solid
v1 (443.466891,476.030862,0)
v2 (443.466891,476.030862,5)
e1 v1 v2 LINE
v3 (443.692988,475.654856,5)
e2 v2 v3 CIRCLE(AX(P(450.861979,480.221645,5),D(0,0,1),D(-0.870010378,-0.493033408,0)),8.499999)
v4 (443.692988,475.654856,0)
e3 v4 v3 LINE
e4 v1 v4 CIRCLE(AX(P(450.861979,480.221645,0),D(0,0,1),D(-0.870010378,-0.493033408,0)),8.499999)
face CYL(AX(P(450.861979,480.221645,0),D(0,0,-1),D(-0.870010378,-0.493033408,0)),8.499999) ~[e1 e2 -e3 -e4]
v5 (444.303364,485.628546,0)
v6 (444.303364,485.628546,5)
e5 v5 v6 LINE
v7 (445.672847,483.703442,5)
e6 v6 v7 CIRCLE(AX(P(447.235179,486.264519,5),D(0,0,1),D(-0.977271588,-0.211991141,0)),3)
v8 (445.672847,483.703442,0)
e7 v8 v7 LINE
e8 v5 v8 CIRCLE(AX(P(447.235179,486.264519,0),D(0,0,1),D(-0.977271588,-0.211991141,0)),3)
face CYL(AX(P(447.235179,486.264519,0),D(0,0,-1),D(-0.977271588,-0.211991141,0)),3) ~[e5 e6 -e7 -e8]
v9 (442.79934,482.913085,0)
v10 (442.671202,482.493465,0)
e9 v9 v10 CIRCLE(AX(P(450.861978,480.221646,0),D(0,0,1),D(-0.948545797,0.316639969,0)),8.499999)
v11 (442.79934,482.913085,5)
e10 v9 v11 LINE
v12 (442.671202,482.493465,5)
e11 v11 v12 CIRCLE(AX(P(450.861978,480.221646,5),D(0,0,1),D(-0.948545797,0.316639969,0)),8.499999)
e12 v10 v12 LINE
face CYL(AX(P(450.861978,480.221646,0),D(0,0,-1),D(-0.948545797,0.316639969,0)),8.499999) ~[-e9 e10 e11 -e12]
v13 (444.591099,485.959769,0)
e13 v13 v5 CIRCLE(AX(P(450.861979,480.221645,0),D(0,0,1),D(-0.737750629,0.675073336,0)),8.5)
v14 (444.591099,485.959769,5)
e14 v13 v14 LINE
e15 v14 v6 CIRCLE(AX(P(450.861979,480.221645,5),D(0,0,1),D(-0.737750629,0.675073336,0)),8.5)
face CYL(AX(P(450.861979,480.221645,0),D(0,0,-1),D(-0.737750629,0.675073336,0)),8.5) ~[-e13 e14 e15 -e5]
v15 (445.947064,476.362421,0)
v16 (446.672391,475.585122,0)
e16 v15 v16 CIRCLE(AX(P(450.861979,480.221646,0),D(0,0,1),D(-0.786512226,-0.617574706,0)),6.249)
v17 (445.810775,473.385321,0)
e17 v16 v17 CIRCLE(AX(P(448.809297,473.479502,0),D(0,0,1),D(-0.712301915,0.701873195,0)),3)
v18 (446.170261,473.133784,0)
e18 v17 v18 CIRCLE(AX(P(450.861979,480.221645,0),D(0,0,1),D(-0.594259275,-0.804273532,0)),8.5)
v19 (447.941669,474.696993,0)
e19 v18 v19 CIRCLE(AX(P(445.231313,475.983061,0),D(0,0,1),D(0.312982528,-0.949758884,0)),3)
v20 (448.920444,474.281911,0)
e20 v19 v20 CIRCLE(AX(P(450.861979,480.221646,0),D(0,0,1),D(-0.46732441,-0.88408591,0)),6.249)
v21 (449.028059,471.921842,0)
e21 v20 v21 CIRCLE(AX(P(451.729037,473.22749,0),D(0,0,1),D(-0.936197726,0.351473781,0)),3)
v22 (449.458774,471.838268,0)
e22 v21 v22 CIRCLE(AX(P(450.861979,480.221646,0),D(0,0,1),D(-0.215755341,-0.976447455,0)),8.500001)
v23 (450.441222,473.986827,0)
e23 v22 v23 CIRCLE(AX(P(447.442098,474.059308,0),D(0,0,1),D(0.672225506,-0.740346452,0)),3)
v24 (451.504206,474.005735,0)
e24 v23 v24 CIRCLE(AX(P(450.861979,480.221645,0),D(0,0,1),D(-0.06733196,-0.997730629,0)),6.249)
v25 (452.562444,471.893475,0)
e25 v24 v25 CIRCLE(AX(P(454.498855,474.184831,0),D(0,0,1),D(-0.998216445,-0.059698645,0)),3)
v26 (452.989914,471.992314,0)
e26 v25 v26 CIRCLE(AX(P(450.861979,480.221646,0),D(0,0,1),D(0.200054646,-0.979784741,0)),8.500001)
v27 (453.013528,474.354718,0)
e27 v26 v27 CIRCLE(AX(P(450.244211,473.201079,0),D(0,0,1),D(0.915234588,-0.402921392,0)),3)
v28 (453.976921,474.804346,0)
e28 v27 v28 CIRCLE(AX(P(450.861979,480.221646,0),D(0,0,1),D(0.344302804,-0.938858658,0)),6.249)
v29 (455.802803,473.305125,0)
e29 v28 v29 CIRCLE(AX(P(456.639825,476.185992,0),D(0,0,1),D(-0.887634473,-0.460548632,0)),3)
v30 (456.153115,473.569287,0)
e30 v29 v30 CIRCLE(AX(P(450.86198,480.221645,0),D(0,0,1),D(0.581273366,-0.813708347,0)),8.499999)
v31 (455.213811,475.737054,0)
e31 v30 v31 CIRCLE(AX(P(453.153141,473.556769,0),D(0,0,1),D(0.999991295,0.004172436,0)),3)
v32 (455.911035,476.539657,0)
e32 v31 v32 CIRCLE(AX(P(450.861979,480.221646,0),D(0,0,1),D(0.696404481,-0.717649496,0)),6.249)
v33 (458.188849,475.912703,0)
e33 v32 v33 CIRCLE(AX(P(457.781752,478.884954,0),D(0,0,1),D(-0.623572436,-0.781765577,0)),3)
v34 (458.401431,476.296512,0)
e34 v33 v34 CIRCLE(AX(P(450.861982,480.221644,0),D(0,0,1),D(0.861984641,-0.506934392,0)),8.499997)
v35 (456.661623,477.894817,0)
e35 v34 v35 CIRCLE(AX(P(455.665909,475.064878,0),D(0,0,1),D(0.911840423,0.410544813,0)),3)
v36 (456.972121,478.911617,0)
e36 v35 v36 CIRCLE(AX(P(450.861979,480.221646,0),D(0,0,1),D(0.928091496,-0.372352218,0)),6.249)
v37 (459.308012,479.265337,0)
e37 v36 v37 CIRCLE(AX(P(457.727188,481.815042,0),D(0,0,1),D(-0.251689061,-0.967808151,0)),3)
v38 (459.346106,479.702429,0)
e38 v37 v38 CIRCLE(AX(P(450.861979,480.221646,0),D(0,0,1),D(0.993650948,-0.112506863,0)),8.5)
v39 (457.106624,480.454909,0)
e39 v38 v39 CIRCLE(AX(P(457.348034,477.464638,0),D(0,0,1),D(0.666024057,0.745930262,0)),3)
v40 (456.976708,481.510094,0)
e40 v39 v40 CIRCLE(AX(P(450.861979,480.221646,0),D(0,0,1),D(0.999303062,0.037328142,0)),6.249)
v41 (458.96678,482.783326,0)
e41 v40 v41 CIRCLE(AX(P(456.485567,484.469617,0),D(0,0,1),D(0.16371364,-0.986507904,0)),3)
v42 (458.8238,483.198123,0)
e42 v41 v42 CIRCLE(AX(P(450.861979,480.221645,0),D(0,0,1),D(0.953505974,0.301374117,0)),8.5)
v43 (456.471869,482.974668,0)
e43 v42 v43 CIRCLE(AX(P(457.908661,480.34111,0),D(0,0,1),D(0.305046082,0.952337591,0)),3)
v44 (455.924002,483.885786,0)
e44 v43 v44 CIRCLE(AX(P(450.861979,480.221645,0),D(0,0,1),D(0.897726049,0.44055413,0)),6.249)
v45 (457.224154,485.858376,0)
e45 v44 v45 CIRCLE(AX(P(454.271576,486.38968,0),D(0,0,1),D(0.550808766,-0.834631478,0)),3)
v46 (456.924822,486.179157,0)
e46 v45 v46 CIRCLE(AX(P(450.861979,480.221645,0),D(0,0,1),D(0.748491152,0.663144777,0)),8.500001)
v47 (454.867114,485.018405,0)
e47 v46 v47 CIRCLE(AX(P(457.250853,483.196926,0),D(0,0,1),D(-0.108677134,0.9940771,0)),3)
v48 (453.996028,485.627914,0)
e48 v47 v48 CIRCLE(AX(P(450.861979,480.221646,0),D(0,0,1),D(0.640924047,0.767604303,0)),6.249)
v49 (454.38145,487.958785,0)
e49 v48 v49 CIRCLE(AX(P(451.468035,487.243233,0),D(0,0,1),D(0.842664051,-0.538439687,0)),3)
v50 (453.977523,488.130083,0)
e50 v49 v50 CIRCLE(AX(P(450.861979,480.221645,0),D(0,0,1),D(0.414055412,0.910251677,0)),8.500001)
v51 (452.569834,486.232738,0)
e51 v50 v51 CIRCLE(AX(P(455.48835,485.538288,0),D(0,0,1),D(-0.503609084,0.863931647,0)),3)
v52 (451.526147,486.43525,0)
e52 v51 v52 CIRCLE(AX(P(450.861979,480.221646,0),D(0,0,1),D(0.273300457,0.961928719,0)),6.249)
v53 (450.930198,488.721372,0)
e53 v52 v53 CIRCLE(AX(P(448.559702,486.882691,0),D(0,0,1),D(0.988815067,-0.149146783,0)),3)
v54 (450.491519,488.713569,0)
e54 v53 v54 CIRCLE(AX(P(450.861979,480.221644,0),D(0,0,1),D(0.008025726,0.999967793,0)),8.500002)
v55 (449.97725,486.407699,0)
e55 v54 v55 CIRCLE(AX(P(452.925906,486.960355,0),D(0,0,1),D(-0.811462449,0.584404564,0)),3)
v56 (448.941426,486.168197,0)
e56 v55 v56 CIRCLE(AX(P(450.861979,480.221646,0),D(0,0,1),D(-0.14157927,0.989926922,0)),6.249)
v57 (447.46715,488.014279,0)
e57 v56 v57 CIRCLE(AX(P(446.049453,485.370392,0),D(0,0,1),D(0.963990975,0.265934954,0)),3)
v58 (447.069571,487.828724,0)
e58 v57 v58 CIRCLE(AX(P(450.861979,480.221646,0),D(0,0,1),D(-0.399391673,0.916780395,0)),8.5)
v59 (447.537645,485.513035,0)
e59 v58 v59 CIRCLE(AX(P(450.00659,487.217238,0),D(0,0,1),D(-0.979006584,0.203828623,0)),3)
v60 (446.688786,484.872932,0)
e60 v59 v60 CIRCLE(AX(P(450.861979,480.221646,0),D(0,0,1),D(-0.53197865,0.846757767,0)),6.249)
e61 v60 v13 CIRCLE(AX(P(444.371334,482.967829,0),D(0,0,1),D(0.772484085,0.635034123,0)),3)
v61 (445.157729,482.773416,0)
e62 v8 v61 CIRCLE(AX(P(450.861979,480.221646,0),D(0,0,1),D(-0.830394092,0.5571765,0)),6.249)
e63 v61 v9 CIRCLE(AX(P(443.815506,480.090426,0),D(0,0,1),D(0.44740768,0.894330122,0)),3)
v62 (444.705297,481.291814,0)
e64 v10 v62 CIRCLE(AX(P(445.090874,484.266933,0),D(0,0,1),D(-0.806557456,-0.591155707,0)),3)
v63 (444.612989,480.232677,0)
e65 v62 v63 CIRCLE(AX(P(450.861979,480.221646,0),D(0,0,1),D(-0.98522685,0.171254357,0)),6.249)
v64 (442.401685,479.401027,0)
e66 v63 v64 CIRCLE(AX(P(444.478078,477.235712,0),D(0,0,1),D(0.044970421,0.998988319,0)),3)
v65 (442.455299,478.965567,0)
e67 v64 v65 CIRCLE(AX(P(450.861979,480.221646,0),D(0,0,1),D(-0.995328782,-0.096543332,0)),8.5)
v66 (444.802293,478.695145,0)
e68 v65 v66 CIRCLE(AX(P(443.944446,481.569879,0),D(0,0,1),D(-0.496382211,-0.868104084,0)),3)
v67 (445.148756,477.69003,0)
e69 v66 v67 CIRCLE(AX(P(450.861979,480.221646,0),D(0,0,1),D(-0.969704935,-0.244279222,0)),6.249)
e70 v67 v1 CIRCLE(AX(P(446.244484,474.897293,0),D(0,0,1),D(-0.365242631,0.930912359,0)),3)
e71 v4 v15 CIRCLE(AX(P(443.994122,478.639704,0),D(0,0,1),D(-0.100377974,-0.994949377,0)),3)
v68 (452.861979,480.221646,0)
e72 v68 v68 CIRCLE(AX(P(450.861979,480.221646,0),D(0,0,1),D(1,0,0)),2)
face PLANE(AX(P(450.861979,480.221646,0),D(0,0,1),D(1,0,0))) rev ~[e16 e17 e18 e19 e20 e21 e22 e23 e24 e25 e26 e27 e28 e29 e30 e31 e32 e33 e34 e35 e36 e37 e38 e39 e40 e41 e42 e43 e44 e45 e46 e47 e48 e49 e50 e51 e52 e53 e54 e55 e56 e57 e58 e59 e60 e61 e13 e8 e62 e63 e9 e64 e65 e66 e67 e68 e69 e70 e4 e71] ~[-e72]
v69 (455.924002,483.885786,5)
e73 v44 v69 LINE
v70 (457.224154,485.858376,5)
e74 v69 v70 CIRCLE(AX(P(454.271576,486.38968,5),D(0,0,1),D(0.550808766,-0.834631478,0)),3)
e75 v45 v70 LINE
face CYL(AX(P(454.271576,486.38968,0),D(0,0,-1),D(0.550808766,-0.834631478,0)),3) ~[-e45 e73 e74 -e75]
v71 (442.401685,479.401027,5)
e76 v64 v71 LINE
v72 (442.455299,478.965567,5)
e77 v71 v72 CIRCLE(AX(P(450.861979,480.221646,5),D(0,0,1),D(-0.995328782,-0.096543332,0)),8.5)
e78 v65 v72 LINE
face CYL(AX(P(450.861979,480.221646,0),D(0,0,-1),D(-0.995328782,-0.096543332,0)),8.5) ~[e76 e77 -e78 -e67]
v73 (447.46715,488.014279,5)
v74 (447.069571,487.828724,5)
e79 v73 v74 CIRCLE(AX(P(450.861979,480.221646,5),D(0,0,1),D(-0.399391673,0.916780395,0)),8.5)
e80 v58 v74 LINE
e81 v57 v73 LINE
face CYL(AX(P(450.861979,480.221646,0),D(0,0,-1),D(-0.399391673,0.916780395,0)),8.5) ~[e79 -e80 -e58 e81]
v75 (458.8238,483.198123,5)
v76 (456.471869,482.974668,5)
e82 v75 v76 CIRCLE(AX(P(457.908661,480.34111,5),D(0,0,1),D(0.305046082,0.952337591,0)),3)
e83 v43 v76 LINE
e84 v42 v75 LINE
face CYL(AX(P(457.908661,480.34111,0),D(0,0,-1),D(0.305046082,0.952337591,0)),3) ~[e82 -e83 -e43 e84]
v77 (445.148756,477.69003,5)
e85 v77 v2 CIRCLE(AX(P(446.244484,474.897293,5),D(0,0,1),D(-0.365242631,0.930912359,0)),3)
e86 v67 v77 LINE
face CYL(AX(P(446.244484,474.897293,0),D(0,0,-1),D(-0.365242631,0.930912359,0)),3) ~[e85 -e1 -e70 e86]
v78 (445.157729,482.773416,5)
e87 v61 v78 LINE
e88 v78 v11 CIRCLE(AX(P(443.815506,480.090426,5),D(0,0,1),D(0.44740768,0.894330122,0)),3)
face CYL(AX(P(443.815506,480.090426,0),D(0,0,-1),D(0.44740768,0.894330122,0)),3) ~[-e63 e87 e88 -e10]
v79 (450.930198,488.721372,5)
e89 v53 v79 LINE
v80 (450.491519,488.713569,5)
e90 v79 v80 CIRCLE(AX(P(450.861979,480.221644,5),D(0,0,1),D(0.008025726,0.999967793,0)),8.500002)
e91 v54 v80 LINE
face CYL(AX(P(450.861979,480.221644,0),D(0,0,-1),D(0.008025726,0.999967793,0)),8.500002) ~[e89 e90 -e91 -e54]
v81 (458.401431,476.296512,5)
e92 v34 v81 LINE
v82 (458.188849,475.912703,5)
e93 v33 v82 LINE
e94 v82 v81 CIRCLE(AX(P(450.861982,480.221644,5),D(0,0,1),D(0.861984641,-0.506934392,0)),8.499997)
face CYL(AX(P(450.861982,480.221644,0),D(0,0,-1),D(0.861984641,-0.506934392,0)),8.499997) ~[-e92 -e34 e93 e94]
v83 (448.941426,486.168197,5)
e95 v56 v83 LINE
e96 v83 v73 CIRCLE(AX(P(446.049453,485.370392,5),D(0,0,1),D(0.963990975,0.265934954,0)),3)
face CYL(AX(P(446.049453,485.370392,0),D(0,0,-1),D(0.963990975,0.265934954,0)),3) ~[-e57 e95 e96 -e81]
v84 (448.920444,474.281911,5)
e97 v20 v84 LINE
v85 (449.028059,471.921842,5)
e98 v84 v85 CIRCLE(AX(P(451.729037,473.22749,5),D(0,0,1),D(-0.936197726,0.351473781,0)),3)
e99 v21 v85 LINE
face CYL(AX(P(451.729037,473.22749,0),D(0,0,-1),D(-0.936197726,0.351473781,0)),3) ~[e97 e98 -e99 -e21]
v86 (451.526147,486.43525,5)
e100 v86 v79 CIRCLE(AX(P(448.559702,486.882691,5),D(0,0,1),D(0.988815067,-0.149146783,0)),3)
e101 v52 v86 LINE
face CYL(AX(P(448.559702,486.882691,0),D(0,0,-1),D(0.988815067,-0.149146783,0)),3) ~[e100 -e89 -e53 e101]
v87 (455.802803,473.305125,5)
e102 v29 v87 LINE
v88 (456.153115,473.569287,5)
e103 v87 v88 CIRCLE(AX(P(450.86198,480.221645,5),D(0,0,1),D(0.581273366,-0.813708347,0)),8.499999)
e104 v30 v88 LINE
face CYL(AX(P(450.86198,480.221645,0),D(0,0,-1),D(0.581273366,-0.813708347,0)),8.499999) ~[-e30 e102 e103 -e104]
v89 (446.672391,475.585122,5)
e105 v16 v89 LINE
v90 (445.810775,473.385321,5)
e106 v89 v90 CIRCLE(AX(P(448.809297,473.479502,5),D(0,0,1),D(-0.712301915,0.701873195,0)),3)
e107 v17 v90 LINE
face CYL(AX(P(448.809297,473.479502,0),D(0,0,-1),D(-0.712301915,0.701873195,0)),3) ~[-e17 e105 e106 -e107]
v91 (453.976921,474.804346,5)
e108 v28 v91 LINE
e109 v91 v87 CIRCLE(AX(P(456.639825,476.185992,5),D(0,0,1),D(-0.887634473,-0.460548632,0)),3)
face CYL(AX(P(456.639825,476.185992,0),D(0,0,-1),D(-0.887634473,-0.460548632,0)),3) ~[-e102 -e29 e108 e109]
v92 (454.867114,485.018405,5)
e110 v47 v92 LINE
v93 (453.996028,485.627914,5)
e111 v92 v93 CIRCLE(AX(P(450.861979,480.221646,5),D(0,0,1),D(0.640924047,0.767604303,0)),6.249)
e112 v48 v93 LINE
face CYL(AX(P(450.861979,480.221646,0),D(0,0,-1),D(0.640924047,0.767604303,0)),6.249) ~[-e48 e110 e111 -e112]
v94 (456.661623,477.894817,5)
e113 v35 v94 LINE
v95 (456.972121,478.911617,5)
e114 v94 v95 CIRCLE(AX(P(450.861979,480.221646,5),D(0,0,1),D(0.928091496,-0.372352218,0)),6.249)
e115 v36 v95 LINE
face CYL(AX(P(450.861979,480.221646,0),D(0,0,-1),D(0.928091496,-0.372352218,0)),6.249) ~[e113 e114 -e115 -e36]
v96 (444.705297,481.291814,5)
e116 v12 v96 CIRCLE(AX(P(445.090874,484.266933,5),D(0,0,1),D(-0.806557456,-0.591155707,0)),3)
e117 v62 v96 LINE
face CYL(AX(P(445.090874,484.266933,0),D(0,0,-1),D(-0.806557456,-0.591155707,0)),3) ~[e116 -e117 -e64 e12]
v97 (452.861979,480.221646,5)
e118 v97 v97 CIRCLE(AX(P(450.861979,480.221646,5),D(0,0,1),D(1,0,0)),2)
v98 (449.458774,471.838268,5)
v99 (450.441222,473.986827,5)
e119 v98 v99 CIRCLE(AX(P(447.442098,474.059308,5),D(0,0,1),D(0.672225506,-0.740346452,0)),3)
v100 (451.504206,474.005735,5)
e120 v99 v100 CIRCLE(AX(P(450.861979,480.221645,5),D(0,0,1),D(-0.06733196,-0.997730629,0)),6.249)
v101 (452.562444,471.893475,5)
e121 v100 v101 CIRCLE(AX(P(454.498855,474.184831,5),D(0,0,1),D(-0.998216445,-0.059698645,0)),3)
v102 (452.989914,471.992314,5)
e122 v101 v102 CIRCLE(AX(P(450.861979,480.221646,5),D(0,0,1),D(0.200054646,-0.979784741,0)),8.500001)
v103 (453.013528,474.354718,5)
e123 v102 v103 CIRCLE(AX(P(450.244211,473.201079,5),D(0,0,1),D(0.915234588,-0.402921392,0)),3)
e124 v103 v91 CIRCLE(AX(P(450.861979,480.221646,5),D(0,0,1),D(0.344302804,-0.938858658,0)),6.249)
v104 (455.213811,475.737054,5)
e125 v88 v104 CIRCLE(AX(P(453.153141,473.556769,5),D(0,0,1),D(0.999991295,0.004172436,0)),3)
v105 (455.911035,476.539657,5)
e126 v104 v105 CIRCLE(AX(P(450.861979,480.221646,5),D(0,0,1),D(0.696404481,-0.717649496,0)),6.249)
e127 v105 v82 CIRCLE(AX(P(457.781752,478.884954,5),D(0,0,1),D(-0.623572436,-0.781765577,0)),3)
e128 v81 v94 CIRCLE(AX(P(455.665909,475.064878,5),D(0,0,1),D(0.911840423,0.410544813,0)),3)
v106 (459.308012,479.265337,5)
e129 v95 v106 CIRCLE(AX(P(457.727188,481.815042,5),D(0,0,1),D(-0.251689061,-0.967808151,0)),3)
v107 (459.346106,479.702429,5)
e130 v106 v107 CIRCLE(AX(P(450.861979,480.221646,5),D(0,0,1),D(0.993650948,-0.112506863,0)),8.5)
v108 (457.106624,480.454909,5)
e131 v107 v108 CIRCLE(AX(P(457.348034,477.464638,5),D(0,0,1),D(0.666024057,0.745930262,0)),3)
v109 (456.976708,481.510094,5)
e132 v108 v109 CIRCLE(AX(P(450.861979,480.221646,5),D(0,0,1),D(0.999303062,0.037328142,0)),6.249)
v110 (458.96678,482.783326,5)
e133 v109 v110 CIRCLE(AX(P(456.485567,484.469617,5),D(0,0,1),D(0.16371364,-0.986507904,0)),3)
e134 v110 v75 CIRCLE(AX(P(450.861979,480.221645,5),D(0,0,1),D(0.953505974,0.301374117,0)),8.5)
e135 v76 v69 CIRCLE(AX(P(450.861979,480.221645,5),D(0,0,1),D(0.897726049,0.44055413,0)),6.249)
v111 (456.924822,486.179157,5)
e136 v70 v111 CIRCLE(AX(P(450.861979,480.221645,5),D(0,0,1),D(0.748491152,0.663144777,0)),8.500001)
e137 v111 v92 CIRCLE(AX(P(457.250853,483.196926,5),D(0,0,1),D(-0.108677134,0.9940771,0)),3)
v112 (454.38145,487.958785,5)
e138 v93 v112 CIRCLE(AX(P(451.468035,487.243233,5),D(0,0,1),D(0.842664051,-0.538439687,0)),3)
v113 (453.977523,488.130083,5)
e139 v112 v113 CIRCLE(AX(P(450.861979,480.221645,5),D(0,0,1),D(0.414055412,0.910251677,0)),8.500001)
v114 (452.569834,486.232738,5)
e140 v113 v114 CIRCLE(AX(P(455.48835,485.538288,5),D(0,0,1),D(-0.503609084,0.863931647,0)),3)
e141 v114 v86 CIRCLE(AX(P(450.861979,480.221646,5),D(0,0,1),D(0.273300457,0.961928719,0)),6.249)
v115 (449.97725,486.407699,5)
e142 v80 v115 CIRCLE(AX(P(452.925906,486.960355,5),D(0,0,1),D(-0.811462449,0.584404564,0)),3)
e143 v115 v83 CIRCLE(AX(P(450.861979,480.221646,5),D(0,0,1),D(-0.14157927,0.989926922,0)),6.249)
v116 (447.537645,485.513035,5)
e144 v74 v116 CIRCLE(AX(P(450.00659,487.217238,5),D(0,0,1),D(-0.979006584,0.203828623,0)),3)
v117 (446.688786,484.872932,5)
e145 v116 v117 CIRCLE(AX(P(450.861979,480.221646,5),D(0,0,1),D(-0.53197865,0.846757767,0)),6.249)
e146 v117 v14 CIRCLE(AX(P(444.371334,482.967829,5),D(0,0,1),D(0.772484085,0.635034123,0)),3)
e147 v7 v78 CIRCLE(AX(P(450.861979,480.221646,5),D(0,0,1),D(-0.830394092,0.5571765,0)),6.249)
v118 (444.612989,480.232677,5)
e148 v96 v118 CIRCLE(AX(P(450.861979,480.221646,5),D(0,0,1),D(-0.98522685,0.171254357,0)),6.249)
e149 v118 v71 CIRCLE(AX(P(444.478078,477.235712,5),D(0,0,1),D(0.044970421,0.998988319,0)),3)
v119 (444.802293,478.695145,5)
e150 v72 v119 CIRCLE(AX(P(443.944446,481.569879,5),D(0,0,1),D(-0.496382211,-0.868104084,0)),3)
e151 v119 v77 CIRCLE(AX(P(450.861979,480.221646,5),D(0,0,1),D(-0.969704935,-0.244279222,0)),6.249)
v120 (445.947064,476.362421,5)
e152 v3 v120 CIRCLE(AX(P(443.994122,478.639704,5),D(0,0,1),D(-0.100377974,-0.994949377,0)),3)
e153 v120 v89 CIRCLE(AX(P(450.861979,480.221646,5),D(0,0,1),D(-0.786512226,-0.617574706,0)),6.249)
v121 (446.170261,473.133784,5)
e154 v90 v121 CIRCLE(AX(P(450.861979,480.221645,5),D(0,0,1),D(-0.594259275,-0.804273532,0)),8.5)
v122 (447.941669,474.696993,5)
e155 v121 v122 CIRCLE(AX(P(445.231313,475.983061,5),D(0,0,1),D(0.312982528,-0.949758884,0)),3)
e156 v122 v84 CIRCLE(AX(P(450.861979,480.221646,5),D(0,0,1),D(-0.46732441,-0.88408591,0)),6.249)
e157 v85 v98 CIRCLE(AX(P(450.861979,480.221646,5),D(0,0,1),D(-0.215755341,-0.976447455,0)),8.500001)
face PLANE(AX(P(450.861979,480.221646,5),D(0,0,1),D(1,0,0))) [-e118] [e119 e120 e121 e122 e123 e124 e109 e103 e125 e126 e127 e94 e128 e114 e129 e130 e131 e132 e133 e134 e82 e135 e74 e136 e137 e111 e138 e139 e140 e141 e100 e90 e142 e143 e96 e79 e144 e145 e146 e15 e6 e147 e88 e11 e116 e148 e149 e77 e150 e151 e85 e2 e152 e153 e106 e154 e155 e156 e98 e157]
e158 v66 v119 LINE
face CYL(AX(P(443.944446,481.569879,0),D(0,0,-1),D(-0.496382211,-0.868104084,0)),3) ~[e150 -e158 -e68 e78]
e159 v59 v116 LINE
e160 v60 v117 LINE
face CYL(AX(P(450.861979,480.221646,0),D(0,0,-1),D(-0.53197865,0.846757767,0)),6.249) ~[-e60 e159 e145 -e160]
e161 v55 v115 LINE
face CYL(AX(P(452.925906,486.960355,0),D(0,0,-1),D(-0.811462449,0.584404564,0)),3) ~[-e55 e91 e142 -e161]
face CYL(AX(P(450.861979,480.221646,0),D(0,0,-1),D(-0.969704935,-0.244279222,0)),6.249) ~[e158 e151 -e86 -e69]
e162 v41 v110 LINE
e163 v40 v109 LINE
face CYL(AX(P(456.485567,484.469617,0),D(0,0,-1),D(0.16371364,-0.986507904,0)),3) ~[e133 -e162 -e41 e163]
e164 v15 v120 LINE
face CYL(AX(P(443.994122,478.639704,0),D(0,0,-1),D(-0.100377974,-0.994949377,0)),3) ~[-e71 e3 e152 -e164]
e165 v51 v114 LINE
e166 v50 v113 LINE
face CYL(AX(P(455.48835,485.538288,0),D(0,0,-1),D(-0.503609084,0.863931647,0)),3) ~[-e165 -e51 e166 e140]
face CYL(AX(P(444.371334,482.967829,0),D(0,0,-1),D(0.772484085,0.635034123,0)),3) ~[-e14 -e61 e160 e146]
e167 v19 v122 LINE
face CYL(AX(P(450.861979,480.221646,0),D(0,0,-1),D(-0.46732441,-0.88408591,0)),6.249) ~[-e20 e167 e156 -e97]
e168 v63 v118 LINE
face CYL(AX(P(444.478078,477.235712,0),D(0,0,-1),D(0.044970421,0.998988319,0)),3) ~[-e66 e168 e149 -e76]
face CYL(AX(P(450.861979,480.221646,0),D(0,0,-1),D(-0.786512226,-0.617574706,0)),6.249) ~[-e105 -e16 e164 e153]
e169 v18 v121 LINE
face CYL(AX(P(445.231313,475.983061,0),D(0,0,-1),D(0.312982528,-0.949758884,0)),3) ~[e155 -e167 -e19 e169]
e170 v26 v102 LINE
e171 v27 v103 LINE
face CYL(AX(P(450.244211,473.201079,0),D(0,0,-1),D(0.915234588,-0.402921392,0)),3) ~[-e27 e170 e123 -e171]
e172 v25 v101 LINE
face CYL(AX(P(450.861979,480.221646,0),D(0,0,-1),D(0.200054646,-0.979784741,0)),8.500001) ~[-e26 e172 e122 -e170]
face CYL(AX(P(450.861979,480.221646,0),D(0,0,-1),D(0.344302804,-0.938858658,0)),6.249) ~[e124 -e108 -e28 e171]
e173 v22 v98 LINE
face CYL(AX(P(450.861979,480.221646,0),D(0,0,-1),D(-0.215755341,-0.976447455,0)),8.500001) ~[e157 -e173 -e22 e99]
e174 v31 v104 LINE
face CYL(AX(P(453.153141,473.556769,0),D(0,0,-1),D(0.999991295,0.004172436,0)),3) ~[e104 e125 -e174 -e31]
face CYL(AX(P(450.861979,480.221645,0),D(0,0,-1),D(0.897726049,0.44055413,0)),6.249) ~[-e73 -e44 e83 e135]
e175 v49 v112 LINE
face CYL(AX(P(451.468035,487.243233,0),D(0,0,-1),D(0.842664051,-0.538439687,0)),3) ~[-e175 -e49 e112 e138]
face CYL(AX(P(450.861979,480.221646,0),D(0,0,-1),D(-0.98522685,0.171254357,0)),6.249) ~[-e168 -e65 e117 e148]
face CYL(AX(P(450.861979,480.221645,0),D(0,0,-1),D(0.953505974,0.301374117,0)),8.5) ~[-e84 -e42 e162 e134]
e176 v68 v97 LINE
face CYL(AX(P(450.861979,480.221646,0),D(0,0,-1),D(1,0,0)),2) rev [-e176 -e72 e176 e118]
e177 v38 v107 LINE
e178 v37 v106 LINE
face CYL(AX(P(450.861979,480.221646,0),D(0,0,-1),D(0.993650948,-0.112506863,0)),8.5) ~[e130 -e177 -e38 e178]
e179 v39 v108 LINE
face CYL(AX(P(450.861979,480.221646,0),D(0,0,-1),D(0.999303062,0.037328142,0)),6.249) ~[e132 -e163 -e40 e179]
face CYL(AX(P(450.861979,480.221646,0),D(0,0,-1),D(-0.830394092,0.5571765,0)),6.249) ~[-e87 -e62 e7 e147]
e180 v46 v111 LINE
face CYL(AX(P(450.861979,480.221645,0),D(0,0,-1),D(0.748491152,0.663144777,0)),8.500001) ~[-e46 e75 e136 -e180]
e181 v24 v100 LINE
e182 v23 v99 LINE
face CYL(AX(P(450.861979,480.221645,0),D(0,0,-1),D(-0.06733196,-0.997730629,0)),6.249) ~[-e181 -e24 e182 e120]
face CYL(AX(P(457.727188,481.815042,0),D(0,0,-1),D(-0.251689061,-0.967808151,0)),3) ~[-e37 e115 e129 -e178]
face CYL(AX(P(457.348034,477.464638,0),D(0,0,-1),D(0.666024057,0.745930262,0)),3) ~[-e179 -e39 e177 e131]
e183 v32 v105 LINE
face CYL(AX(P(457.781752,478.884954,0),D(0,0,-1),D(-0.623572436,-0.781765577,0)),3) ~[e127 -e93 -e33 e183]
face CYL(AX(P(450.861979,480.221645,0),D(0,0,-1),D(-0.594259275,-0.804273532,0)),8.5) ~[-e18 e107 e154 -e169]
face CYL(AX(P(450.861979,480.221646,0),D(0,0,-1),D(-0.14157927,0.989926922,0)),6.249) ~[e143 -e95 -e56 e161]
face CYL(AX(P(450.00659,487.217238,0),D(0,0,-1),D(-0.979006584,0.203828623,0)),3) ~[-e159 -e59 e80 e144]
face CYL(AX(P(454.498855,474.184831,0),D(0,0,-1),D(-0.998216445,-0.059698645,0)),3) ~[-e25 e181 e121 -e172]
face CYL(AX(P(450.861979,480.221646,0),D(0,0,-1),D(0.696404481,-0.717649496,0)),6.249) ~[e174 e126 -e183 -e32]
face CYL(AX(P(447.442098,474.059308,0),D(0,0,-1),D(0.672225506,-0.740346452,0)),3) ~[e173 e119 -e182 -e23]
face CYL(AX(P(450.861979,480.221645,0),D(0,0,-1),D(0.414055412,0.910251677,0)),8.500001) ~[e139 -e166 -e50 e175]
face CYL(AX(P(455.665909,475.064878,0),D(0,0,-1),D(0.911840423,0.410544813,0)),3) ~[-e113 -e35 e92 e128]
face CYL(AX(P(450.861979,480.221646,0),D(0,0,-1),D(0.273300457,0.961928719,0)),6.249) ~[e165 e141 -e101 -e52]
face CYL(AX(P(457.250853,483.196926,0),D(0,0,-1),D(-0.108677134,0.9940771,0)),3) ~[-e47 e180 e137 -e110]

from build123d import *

# Parameters (mm, degrees)
MODEL_R             = 2
BOSS_EXTRUDE1_DEPTH = 5


with BuildPart() as part:
    # Model → Boss-Extrude1 (new body)
    with BuildSketch(Plane.XY):
        with BuildLine():
            ThreePointArc((455.213810884, 475.737053866), (455.579522306, 476.123501007), (455.911034715, 476.539656939))
            ThreePointArc((455.911034715, 476.539656939), (456.985627664, 475.992517671), (458.188848778, 475.912703304))
            ThreePointArc((458.188848778, 475.912703304), (458.297616539, 476.103235845), (458.401430664, 476.296512079))
            ThreePointArc((458.401430664, 476.296512079), (457.695483937, 477.274137059), (456.66162305, 477.894816565))
            ThreePointArc((456.66162305, 477.894816565), (456.838534846, 478.396601831), (456.972120634, 478.911617437))
            ThreePointArc((456.972120634, 478.911617437), (458.176351731, 478.848857172), (459.308012342, 479.265337237))
            ThreePointArc((459.308012342, 479.265337237), (459.329880069, 479.483637208), (459.346106466, 479.702428842))
            ThreePointArc((459.346106466, 479.702428842), (458.303556137, 480.3083993), (457.106624121, 480.454909137))
            ThreePointArc((457.106624121, 480.454909137), (457.064146634, 480.985269298), (456.976707605, 481.5100937))
            ThreePointArc((456.976707605, 481.5100937), (458.102354353, 481.942564259), (458.96678006, 482.783325568))
            ThreePointArc((458.96678006, 482.783325568), (458.897966625, 482.991646922), (458.823799602, 483.198122895))
            ThreePointArc((458.823799602, 483.198122895), (457.624912095, 483.327661034), (456.471869369, 482.974668319))
            ThreePointArc((456.471869369, 482.974668319), (456.217347342, 483.441899284), (455.9240025, 483.885785577))
            ThreePointArc((455.9240025, 483.885785577), (456.776430349, 484.73870887), (457.224154095, 485.858376156))
            ThreePointArc((457.224154095, 485.858376156), (457.076557966, 486.020698236), (456.924821674, 486.179156978))
            ThreePointArc((456.924821674, 486.179156978), (455.776895531, 485.809864476), (454.867113658, 485.018404858))
            ThreePointArc((454.867113658, 485.018404858), (454.444556262, 485.341718149), (453.996027593, 485.627914358))
            ThreePointArc((453.996027593, 485.627914358), (454.427844026, 486.753812201), (454.381450307, 487.958784817))
            ThreePointArc((454.381450307, 487.958784817), (454.180592196, 488.047040662), (453.977523219, 488.130083216))
            ThreePointArc((453.977523219, 488.130083216), (453.079045297, 487.325814102), (452.569833828, 486.232738138))
            ThreePointArc((452.569833828, 486.232738138), (452.052305076, 486.35622995), (451.526147262, 486.435250151))
            ThreePointArc((451.526147262, 486.435250151), (451.462687294, 487.639444578), (450.930198006, 488.721371813))
            ThreePointArc((450.930198006, 488.721371813), (450.710808105, 488.720301185), (450.491518914, 488.713568739))
            ThreePointArc((450.491518914, 488.713568739), (449.997844209, 487.613388449), (449.977250433, 486.407698904))
            ThreePointArc((449.977250433, 486.407698904), (449.454235747, 486.31001638), (448.941426255, 486.168197264))
            ThreePointArc((448.941426255, 486.168197264), (448.393662691, 487.242472118), (447.467150069, 488.014278923))
            ThreePointArc((447.467150069, 488.014278923), (447.267162884, 487.924066944), (447.069570573, 487.828723599))
            ThreePointArc((447.069570573, 487.828723599), (447.066059926, 486.622863301), (447.537644694, 485.51303485))
            ThreePointArc((447.537644694, 485.51303485), (447.099578065, 485.211068187), (446.688786314, 484.872931566))
            ThreePointArc((446.688786314, 484.872931566), (445.751432451, 485.631534965), (444.591098944, 485.959768933))
            ThreePointArc((444.591098944, 485.959768933), (444.445094078, 485.796014074), (444.303364151, 485.62854556))
            ThreePointArc((444.303364151, 485.62854556), (444.790624586, 484.525509454), (445.672846607, 483.703441519))
            ThreePointArc((445.672846607, 483.703441519), (445.395473735, 483.249403495), (445.157729351, 482.773416263))
            ThreePointArc((445.157729351, 482.773416263), (443.992862186, 483.085178789), (442.79934, 482.913085284))
            ThreePointArc((442.79934, 482.913085284), (442.732563019, 482.704102247), (442.67120187, 482.493465393))
            ThreePointArc((442.67120187, 482.493465393), (443.56498163, 481.683978441), (444.705296702, 481.291814037))
            ThreePointArc((444.705296702, 481.291814037), (444.636577876, 480.764211952), (444.612989023, 480.232676626))
            ThreePointArc((444.612989023, 480.232676626), (443.422024673, 480.043691705), (442.401684635, 479.401027258))
            ThreePointArc((442.401684635, 479.401027258), (442.425681887, 479.182951108), (442.455299415, 478.965566939))
            ThreePointArc((442.455299415, 478.965566939), (443.60105586, 478.589596791), (444.802293147, 478.695144705))
            ThreePointArc((444.802293147, 478.695144705), (444.954110477, 478.185205752), (445.148755882, 477.690029618))
            ThreePointArc((445.148755882, 477.690029618), (444.137622902, 477.03297446), (443.466891075, 476.030861592))
            ThreePointArc((443.466891075, 476.030861592), (443.577513216, 475.841399678), (443.692988281, 475.654855892))
            ThreePointArc((443.692988281, 475.654855892), (444.892609713, 475.777411201), (445.947064377, 476.36242124))
            ThreePointArc((445.947064377, 476.36242124), (446.293167267, 475.958318498), (446.67239097, 475.585122008))
            ThreePointArc((446.67239097, 475.585122008), (446.015923439, 474.573607419), (445.810775449, 473.385320549))
            ThreePointArc((445.810775449, 473.385320549), (445.988894907, 473.257232556), (446.170260821, 473.133784268))
            ThreePointArc((446.170260821, 473.133784268), (447.216321796, 473.733674108), (447.941669045, 474.696992722))
            ThreePointArc((447.941669045, 474.696992722), (448.422213161, 474.468599225), (448.92044394, 474.281911443))
            ThreePointArc((448.92044394, 474.281911443), (448.732151056, 473.090837485), (449.028058855, 471.921842207))
            ThreePointArc((449.028058855, 471.921842207), (449.242877156, 471.877275714), (449.458774107, 471.838268254))
            ThreePointArc((449.458774107, 471.838268254), (450.170401179, 472.811766221), (450.441221884, 473.986826871))
            ThreePointArc((450.441221884, 473.986826871), (450.973116782, 473.973633929), (451.504206009, 474.005734869))
            ThreePointArc((451.504206009, 474.005734869), (451.816645324, 472.84104905), (452.562443764, 471.893475269))
            ThreePointArc((452.562443764, 471.893475269), (452.776816874, 471.940136226), (452.989914315, 471.992314338))
            ThreePointArc((452.989914315, 471.992314338), (453.244060699, 473.171093791), (453.0135275, 474.354717814))
            ThreePointArc((453.0135275, 474.354717814), (453.504803721, 474.559006608), (453.976921244, 474.804345725))
            ThreePointArc((453.976921244, 474.804345725), (454.736069161, 473.867432804), (455.802802917, 473.305124634))
            ThreePointArc((455.802802917, 473.305124634), (455.979663777, 473.434944938), (456.153115226, 473.569286554))
            ThreePointArc((456.153115226, 473.569286554), (455.905836703, 474.749525816), (455.213810884, 475.737053866))
        make_face()
        with Locations((450.861979287, 480.22164557)):
            Circle(MODEL_R, mode=Mode.SUBTRACT)
    extrude(amount=BOSS_EXTRUDE1_DEPTH)


solid = part.part
